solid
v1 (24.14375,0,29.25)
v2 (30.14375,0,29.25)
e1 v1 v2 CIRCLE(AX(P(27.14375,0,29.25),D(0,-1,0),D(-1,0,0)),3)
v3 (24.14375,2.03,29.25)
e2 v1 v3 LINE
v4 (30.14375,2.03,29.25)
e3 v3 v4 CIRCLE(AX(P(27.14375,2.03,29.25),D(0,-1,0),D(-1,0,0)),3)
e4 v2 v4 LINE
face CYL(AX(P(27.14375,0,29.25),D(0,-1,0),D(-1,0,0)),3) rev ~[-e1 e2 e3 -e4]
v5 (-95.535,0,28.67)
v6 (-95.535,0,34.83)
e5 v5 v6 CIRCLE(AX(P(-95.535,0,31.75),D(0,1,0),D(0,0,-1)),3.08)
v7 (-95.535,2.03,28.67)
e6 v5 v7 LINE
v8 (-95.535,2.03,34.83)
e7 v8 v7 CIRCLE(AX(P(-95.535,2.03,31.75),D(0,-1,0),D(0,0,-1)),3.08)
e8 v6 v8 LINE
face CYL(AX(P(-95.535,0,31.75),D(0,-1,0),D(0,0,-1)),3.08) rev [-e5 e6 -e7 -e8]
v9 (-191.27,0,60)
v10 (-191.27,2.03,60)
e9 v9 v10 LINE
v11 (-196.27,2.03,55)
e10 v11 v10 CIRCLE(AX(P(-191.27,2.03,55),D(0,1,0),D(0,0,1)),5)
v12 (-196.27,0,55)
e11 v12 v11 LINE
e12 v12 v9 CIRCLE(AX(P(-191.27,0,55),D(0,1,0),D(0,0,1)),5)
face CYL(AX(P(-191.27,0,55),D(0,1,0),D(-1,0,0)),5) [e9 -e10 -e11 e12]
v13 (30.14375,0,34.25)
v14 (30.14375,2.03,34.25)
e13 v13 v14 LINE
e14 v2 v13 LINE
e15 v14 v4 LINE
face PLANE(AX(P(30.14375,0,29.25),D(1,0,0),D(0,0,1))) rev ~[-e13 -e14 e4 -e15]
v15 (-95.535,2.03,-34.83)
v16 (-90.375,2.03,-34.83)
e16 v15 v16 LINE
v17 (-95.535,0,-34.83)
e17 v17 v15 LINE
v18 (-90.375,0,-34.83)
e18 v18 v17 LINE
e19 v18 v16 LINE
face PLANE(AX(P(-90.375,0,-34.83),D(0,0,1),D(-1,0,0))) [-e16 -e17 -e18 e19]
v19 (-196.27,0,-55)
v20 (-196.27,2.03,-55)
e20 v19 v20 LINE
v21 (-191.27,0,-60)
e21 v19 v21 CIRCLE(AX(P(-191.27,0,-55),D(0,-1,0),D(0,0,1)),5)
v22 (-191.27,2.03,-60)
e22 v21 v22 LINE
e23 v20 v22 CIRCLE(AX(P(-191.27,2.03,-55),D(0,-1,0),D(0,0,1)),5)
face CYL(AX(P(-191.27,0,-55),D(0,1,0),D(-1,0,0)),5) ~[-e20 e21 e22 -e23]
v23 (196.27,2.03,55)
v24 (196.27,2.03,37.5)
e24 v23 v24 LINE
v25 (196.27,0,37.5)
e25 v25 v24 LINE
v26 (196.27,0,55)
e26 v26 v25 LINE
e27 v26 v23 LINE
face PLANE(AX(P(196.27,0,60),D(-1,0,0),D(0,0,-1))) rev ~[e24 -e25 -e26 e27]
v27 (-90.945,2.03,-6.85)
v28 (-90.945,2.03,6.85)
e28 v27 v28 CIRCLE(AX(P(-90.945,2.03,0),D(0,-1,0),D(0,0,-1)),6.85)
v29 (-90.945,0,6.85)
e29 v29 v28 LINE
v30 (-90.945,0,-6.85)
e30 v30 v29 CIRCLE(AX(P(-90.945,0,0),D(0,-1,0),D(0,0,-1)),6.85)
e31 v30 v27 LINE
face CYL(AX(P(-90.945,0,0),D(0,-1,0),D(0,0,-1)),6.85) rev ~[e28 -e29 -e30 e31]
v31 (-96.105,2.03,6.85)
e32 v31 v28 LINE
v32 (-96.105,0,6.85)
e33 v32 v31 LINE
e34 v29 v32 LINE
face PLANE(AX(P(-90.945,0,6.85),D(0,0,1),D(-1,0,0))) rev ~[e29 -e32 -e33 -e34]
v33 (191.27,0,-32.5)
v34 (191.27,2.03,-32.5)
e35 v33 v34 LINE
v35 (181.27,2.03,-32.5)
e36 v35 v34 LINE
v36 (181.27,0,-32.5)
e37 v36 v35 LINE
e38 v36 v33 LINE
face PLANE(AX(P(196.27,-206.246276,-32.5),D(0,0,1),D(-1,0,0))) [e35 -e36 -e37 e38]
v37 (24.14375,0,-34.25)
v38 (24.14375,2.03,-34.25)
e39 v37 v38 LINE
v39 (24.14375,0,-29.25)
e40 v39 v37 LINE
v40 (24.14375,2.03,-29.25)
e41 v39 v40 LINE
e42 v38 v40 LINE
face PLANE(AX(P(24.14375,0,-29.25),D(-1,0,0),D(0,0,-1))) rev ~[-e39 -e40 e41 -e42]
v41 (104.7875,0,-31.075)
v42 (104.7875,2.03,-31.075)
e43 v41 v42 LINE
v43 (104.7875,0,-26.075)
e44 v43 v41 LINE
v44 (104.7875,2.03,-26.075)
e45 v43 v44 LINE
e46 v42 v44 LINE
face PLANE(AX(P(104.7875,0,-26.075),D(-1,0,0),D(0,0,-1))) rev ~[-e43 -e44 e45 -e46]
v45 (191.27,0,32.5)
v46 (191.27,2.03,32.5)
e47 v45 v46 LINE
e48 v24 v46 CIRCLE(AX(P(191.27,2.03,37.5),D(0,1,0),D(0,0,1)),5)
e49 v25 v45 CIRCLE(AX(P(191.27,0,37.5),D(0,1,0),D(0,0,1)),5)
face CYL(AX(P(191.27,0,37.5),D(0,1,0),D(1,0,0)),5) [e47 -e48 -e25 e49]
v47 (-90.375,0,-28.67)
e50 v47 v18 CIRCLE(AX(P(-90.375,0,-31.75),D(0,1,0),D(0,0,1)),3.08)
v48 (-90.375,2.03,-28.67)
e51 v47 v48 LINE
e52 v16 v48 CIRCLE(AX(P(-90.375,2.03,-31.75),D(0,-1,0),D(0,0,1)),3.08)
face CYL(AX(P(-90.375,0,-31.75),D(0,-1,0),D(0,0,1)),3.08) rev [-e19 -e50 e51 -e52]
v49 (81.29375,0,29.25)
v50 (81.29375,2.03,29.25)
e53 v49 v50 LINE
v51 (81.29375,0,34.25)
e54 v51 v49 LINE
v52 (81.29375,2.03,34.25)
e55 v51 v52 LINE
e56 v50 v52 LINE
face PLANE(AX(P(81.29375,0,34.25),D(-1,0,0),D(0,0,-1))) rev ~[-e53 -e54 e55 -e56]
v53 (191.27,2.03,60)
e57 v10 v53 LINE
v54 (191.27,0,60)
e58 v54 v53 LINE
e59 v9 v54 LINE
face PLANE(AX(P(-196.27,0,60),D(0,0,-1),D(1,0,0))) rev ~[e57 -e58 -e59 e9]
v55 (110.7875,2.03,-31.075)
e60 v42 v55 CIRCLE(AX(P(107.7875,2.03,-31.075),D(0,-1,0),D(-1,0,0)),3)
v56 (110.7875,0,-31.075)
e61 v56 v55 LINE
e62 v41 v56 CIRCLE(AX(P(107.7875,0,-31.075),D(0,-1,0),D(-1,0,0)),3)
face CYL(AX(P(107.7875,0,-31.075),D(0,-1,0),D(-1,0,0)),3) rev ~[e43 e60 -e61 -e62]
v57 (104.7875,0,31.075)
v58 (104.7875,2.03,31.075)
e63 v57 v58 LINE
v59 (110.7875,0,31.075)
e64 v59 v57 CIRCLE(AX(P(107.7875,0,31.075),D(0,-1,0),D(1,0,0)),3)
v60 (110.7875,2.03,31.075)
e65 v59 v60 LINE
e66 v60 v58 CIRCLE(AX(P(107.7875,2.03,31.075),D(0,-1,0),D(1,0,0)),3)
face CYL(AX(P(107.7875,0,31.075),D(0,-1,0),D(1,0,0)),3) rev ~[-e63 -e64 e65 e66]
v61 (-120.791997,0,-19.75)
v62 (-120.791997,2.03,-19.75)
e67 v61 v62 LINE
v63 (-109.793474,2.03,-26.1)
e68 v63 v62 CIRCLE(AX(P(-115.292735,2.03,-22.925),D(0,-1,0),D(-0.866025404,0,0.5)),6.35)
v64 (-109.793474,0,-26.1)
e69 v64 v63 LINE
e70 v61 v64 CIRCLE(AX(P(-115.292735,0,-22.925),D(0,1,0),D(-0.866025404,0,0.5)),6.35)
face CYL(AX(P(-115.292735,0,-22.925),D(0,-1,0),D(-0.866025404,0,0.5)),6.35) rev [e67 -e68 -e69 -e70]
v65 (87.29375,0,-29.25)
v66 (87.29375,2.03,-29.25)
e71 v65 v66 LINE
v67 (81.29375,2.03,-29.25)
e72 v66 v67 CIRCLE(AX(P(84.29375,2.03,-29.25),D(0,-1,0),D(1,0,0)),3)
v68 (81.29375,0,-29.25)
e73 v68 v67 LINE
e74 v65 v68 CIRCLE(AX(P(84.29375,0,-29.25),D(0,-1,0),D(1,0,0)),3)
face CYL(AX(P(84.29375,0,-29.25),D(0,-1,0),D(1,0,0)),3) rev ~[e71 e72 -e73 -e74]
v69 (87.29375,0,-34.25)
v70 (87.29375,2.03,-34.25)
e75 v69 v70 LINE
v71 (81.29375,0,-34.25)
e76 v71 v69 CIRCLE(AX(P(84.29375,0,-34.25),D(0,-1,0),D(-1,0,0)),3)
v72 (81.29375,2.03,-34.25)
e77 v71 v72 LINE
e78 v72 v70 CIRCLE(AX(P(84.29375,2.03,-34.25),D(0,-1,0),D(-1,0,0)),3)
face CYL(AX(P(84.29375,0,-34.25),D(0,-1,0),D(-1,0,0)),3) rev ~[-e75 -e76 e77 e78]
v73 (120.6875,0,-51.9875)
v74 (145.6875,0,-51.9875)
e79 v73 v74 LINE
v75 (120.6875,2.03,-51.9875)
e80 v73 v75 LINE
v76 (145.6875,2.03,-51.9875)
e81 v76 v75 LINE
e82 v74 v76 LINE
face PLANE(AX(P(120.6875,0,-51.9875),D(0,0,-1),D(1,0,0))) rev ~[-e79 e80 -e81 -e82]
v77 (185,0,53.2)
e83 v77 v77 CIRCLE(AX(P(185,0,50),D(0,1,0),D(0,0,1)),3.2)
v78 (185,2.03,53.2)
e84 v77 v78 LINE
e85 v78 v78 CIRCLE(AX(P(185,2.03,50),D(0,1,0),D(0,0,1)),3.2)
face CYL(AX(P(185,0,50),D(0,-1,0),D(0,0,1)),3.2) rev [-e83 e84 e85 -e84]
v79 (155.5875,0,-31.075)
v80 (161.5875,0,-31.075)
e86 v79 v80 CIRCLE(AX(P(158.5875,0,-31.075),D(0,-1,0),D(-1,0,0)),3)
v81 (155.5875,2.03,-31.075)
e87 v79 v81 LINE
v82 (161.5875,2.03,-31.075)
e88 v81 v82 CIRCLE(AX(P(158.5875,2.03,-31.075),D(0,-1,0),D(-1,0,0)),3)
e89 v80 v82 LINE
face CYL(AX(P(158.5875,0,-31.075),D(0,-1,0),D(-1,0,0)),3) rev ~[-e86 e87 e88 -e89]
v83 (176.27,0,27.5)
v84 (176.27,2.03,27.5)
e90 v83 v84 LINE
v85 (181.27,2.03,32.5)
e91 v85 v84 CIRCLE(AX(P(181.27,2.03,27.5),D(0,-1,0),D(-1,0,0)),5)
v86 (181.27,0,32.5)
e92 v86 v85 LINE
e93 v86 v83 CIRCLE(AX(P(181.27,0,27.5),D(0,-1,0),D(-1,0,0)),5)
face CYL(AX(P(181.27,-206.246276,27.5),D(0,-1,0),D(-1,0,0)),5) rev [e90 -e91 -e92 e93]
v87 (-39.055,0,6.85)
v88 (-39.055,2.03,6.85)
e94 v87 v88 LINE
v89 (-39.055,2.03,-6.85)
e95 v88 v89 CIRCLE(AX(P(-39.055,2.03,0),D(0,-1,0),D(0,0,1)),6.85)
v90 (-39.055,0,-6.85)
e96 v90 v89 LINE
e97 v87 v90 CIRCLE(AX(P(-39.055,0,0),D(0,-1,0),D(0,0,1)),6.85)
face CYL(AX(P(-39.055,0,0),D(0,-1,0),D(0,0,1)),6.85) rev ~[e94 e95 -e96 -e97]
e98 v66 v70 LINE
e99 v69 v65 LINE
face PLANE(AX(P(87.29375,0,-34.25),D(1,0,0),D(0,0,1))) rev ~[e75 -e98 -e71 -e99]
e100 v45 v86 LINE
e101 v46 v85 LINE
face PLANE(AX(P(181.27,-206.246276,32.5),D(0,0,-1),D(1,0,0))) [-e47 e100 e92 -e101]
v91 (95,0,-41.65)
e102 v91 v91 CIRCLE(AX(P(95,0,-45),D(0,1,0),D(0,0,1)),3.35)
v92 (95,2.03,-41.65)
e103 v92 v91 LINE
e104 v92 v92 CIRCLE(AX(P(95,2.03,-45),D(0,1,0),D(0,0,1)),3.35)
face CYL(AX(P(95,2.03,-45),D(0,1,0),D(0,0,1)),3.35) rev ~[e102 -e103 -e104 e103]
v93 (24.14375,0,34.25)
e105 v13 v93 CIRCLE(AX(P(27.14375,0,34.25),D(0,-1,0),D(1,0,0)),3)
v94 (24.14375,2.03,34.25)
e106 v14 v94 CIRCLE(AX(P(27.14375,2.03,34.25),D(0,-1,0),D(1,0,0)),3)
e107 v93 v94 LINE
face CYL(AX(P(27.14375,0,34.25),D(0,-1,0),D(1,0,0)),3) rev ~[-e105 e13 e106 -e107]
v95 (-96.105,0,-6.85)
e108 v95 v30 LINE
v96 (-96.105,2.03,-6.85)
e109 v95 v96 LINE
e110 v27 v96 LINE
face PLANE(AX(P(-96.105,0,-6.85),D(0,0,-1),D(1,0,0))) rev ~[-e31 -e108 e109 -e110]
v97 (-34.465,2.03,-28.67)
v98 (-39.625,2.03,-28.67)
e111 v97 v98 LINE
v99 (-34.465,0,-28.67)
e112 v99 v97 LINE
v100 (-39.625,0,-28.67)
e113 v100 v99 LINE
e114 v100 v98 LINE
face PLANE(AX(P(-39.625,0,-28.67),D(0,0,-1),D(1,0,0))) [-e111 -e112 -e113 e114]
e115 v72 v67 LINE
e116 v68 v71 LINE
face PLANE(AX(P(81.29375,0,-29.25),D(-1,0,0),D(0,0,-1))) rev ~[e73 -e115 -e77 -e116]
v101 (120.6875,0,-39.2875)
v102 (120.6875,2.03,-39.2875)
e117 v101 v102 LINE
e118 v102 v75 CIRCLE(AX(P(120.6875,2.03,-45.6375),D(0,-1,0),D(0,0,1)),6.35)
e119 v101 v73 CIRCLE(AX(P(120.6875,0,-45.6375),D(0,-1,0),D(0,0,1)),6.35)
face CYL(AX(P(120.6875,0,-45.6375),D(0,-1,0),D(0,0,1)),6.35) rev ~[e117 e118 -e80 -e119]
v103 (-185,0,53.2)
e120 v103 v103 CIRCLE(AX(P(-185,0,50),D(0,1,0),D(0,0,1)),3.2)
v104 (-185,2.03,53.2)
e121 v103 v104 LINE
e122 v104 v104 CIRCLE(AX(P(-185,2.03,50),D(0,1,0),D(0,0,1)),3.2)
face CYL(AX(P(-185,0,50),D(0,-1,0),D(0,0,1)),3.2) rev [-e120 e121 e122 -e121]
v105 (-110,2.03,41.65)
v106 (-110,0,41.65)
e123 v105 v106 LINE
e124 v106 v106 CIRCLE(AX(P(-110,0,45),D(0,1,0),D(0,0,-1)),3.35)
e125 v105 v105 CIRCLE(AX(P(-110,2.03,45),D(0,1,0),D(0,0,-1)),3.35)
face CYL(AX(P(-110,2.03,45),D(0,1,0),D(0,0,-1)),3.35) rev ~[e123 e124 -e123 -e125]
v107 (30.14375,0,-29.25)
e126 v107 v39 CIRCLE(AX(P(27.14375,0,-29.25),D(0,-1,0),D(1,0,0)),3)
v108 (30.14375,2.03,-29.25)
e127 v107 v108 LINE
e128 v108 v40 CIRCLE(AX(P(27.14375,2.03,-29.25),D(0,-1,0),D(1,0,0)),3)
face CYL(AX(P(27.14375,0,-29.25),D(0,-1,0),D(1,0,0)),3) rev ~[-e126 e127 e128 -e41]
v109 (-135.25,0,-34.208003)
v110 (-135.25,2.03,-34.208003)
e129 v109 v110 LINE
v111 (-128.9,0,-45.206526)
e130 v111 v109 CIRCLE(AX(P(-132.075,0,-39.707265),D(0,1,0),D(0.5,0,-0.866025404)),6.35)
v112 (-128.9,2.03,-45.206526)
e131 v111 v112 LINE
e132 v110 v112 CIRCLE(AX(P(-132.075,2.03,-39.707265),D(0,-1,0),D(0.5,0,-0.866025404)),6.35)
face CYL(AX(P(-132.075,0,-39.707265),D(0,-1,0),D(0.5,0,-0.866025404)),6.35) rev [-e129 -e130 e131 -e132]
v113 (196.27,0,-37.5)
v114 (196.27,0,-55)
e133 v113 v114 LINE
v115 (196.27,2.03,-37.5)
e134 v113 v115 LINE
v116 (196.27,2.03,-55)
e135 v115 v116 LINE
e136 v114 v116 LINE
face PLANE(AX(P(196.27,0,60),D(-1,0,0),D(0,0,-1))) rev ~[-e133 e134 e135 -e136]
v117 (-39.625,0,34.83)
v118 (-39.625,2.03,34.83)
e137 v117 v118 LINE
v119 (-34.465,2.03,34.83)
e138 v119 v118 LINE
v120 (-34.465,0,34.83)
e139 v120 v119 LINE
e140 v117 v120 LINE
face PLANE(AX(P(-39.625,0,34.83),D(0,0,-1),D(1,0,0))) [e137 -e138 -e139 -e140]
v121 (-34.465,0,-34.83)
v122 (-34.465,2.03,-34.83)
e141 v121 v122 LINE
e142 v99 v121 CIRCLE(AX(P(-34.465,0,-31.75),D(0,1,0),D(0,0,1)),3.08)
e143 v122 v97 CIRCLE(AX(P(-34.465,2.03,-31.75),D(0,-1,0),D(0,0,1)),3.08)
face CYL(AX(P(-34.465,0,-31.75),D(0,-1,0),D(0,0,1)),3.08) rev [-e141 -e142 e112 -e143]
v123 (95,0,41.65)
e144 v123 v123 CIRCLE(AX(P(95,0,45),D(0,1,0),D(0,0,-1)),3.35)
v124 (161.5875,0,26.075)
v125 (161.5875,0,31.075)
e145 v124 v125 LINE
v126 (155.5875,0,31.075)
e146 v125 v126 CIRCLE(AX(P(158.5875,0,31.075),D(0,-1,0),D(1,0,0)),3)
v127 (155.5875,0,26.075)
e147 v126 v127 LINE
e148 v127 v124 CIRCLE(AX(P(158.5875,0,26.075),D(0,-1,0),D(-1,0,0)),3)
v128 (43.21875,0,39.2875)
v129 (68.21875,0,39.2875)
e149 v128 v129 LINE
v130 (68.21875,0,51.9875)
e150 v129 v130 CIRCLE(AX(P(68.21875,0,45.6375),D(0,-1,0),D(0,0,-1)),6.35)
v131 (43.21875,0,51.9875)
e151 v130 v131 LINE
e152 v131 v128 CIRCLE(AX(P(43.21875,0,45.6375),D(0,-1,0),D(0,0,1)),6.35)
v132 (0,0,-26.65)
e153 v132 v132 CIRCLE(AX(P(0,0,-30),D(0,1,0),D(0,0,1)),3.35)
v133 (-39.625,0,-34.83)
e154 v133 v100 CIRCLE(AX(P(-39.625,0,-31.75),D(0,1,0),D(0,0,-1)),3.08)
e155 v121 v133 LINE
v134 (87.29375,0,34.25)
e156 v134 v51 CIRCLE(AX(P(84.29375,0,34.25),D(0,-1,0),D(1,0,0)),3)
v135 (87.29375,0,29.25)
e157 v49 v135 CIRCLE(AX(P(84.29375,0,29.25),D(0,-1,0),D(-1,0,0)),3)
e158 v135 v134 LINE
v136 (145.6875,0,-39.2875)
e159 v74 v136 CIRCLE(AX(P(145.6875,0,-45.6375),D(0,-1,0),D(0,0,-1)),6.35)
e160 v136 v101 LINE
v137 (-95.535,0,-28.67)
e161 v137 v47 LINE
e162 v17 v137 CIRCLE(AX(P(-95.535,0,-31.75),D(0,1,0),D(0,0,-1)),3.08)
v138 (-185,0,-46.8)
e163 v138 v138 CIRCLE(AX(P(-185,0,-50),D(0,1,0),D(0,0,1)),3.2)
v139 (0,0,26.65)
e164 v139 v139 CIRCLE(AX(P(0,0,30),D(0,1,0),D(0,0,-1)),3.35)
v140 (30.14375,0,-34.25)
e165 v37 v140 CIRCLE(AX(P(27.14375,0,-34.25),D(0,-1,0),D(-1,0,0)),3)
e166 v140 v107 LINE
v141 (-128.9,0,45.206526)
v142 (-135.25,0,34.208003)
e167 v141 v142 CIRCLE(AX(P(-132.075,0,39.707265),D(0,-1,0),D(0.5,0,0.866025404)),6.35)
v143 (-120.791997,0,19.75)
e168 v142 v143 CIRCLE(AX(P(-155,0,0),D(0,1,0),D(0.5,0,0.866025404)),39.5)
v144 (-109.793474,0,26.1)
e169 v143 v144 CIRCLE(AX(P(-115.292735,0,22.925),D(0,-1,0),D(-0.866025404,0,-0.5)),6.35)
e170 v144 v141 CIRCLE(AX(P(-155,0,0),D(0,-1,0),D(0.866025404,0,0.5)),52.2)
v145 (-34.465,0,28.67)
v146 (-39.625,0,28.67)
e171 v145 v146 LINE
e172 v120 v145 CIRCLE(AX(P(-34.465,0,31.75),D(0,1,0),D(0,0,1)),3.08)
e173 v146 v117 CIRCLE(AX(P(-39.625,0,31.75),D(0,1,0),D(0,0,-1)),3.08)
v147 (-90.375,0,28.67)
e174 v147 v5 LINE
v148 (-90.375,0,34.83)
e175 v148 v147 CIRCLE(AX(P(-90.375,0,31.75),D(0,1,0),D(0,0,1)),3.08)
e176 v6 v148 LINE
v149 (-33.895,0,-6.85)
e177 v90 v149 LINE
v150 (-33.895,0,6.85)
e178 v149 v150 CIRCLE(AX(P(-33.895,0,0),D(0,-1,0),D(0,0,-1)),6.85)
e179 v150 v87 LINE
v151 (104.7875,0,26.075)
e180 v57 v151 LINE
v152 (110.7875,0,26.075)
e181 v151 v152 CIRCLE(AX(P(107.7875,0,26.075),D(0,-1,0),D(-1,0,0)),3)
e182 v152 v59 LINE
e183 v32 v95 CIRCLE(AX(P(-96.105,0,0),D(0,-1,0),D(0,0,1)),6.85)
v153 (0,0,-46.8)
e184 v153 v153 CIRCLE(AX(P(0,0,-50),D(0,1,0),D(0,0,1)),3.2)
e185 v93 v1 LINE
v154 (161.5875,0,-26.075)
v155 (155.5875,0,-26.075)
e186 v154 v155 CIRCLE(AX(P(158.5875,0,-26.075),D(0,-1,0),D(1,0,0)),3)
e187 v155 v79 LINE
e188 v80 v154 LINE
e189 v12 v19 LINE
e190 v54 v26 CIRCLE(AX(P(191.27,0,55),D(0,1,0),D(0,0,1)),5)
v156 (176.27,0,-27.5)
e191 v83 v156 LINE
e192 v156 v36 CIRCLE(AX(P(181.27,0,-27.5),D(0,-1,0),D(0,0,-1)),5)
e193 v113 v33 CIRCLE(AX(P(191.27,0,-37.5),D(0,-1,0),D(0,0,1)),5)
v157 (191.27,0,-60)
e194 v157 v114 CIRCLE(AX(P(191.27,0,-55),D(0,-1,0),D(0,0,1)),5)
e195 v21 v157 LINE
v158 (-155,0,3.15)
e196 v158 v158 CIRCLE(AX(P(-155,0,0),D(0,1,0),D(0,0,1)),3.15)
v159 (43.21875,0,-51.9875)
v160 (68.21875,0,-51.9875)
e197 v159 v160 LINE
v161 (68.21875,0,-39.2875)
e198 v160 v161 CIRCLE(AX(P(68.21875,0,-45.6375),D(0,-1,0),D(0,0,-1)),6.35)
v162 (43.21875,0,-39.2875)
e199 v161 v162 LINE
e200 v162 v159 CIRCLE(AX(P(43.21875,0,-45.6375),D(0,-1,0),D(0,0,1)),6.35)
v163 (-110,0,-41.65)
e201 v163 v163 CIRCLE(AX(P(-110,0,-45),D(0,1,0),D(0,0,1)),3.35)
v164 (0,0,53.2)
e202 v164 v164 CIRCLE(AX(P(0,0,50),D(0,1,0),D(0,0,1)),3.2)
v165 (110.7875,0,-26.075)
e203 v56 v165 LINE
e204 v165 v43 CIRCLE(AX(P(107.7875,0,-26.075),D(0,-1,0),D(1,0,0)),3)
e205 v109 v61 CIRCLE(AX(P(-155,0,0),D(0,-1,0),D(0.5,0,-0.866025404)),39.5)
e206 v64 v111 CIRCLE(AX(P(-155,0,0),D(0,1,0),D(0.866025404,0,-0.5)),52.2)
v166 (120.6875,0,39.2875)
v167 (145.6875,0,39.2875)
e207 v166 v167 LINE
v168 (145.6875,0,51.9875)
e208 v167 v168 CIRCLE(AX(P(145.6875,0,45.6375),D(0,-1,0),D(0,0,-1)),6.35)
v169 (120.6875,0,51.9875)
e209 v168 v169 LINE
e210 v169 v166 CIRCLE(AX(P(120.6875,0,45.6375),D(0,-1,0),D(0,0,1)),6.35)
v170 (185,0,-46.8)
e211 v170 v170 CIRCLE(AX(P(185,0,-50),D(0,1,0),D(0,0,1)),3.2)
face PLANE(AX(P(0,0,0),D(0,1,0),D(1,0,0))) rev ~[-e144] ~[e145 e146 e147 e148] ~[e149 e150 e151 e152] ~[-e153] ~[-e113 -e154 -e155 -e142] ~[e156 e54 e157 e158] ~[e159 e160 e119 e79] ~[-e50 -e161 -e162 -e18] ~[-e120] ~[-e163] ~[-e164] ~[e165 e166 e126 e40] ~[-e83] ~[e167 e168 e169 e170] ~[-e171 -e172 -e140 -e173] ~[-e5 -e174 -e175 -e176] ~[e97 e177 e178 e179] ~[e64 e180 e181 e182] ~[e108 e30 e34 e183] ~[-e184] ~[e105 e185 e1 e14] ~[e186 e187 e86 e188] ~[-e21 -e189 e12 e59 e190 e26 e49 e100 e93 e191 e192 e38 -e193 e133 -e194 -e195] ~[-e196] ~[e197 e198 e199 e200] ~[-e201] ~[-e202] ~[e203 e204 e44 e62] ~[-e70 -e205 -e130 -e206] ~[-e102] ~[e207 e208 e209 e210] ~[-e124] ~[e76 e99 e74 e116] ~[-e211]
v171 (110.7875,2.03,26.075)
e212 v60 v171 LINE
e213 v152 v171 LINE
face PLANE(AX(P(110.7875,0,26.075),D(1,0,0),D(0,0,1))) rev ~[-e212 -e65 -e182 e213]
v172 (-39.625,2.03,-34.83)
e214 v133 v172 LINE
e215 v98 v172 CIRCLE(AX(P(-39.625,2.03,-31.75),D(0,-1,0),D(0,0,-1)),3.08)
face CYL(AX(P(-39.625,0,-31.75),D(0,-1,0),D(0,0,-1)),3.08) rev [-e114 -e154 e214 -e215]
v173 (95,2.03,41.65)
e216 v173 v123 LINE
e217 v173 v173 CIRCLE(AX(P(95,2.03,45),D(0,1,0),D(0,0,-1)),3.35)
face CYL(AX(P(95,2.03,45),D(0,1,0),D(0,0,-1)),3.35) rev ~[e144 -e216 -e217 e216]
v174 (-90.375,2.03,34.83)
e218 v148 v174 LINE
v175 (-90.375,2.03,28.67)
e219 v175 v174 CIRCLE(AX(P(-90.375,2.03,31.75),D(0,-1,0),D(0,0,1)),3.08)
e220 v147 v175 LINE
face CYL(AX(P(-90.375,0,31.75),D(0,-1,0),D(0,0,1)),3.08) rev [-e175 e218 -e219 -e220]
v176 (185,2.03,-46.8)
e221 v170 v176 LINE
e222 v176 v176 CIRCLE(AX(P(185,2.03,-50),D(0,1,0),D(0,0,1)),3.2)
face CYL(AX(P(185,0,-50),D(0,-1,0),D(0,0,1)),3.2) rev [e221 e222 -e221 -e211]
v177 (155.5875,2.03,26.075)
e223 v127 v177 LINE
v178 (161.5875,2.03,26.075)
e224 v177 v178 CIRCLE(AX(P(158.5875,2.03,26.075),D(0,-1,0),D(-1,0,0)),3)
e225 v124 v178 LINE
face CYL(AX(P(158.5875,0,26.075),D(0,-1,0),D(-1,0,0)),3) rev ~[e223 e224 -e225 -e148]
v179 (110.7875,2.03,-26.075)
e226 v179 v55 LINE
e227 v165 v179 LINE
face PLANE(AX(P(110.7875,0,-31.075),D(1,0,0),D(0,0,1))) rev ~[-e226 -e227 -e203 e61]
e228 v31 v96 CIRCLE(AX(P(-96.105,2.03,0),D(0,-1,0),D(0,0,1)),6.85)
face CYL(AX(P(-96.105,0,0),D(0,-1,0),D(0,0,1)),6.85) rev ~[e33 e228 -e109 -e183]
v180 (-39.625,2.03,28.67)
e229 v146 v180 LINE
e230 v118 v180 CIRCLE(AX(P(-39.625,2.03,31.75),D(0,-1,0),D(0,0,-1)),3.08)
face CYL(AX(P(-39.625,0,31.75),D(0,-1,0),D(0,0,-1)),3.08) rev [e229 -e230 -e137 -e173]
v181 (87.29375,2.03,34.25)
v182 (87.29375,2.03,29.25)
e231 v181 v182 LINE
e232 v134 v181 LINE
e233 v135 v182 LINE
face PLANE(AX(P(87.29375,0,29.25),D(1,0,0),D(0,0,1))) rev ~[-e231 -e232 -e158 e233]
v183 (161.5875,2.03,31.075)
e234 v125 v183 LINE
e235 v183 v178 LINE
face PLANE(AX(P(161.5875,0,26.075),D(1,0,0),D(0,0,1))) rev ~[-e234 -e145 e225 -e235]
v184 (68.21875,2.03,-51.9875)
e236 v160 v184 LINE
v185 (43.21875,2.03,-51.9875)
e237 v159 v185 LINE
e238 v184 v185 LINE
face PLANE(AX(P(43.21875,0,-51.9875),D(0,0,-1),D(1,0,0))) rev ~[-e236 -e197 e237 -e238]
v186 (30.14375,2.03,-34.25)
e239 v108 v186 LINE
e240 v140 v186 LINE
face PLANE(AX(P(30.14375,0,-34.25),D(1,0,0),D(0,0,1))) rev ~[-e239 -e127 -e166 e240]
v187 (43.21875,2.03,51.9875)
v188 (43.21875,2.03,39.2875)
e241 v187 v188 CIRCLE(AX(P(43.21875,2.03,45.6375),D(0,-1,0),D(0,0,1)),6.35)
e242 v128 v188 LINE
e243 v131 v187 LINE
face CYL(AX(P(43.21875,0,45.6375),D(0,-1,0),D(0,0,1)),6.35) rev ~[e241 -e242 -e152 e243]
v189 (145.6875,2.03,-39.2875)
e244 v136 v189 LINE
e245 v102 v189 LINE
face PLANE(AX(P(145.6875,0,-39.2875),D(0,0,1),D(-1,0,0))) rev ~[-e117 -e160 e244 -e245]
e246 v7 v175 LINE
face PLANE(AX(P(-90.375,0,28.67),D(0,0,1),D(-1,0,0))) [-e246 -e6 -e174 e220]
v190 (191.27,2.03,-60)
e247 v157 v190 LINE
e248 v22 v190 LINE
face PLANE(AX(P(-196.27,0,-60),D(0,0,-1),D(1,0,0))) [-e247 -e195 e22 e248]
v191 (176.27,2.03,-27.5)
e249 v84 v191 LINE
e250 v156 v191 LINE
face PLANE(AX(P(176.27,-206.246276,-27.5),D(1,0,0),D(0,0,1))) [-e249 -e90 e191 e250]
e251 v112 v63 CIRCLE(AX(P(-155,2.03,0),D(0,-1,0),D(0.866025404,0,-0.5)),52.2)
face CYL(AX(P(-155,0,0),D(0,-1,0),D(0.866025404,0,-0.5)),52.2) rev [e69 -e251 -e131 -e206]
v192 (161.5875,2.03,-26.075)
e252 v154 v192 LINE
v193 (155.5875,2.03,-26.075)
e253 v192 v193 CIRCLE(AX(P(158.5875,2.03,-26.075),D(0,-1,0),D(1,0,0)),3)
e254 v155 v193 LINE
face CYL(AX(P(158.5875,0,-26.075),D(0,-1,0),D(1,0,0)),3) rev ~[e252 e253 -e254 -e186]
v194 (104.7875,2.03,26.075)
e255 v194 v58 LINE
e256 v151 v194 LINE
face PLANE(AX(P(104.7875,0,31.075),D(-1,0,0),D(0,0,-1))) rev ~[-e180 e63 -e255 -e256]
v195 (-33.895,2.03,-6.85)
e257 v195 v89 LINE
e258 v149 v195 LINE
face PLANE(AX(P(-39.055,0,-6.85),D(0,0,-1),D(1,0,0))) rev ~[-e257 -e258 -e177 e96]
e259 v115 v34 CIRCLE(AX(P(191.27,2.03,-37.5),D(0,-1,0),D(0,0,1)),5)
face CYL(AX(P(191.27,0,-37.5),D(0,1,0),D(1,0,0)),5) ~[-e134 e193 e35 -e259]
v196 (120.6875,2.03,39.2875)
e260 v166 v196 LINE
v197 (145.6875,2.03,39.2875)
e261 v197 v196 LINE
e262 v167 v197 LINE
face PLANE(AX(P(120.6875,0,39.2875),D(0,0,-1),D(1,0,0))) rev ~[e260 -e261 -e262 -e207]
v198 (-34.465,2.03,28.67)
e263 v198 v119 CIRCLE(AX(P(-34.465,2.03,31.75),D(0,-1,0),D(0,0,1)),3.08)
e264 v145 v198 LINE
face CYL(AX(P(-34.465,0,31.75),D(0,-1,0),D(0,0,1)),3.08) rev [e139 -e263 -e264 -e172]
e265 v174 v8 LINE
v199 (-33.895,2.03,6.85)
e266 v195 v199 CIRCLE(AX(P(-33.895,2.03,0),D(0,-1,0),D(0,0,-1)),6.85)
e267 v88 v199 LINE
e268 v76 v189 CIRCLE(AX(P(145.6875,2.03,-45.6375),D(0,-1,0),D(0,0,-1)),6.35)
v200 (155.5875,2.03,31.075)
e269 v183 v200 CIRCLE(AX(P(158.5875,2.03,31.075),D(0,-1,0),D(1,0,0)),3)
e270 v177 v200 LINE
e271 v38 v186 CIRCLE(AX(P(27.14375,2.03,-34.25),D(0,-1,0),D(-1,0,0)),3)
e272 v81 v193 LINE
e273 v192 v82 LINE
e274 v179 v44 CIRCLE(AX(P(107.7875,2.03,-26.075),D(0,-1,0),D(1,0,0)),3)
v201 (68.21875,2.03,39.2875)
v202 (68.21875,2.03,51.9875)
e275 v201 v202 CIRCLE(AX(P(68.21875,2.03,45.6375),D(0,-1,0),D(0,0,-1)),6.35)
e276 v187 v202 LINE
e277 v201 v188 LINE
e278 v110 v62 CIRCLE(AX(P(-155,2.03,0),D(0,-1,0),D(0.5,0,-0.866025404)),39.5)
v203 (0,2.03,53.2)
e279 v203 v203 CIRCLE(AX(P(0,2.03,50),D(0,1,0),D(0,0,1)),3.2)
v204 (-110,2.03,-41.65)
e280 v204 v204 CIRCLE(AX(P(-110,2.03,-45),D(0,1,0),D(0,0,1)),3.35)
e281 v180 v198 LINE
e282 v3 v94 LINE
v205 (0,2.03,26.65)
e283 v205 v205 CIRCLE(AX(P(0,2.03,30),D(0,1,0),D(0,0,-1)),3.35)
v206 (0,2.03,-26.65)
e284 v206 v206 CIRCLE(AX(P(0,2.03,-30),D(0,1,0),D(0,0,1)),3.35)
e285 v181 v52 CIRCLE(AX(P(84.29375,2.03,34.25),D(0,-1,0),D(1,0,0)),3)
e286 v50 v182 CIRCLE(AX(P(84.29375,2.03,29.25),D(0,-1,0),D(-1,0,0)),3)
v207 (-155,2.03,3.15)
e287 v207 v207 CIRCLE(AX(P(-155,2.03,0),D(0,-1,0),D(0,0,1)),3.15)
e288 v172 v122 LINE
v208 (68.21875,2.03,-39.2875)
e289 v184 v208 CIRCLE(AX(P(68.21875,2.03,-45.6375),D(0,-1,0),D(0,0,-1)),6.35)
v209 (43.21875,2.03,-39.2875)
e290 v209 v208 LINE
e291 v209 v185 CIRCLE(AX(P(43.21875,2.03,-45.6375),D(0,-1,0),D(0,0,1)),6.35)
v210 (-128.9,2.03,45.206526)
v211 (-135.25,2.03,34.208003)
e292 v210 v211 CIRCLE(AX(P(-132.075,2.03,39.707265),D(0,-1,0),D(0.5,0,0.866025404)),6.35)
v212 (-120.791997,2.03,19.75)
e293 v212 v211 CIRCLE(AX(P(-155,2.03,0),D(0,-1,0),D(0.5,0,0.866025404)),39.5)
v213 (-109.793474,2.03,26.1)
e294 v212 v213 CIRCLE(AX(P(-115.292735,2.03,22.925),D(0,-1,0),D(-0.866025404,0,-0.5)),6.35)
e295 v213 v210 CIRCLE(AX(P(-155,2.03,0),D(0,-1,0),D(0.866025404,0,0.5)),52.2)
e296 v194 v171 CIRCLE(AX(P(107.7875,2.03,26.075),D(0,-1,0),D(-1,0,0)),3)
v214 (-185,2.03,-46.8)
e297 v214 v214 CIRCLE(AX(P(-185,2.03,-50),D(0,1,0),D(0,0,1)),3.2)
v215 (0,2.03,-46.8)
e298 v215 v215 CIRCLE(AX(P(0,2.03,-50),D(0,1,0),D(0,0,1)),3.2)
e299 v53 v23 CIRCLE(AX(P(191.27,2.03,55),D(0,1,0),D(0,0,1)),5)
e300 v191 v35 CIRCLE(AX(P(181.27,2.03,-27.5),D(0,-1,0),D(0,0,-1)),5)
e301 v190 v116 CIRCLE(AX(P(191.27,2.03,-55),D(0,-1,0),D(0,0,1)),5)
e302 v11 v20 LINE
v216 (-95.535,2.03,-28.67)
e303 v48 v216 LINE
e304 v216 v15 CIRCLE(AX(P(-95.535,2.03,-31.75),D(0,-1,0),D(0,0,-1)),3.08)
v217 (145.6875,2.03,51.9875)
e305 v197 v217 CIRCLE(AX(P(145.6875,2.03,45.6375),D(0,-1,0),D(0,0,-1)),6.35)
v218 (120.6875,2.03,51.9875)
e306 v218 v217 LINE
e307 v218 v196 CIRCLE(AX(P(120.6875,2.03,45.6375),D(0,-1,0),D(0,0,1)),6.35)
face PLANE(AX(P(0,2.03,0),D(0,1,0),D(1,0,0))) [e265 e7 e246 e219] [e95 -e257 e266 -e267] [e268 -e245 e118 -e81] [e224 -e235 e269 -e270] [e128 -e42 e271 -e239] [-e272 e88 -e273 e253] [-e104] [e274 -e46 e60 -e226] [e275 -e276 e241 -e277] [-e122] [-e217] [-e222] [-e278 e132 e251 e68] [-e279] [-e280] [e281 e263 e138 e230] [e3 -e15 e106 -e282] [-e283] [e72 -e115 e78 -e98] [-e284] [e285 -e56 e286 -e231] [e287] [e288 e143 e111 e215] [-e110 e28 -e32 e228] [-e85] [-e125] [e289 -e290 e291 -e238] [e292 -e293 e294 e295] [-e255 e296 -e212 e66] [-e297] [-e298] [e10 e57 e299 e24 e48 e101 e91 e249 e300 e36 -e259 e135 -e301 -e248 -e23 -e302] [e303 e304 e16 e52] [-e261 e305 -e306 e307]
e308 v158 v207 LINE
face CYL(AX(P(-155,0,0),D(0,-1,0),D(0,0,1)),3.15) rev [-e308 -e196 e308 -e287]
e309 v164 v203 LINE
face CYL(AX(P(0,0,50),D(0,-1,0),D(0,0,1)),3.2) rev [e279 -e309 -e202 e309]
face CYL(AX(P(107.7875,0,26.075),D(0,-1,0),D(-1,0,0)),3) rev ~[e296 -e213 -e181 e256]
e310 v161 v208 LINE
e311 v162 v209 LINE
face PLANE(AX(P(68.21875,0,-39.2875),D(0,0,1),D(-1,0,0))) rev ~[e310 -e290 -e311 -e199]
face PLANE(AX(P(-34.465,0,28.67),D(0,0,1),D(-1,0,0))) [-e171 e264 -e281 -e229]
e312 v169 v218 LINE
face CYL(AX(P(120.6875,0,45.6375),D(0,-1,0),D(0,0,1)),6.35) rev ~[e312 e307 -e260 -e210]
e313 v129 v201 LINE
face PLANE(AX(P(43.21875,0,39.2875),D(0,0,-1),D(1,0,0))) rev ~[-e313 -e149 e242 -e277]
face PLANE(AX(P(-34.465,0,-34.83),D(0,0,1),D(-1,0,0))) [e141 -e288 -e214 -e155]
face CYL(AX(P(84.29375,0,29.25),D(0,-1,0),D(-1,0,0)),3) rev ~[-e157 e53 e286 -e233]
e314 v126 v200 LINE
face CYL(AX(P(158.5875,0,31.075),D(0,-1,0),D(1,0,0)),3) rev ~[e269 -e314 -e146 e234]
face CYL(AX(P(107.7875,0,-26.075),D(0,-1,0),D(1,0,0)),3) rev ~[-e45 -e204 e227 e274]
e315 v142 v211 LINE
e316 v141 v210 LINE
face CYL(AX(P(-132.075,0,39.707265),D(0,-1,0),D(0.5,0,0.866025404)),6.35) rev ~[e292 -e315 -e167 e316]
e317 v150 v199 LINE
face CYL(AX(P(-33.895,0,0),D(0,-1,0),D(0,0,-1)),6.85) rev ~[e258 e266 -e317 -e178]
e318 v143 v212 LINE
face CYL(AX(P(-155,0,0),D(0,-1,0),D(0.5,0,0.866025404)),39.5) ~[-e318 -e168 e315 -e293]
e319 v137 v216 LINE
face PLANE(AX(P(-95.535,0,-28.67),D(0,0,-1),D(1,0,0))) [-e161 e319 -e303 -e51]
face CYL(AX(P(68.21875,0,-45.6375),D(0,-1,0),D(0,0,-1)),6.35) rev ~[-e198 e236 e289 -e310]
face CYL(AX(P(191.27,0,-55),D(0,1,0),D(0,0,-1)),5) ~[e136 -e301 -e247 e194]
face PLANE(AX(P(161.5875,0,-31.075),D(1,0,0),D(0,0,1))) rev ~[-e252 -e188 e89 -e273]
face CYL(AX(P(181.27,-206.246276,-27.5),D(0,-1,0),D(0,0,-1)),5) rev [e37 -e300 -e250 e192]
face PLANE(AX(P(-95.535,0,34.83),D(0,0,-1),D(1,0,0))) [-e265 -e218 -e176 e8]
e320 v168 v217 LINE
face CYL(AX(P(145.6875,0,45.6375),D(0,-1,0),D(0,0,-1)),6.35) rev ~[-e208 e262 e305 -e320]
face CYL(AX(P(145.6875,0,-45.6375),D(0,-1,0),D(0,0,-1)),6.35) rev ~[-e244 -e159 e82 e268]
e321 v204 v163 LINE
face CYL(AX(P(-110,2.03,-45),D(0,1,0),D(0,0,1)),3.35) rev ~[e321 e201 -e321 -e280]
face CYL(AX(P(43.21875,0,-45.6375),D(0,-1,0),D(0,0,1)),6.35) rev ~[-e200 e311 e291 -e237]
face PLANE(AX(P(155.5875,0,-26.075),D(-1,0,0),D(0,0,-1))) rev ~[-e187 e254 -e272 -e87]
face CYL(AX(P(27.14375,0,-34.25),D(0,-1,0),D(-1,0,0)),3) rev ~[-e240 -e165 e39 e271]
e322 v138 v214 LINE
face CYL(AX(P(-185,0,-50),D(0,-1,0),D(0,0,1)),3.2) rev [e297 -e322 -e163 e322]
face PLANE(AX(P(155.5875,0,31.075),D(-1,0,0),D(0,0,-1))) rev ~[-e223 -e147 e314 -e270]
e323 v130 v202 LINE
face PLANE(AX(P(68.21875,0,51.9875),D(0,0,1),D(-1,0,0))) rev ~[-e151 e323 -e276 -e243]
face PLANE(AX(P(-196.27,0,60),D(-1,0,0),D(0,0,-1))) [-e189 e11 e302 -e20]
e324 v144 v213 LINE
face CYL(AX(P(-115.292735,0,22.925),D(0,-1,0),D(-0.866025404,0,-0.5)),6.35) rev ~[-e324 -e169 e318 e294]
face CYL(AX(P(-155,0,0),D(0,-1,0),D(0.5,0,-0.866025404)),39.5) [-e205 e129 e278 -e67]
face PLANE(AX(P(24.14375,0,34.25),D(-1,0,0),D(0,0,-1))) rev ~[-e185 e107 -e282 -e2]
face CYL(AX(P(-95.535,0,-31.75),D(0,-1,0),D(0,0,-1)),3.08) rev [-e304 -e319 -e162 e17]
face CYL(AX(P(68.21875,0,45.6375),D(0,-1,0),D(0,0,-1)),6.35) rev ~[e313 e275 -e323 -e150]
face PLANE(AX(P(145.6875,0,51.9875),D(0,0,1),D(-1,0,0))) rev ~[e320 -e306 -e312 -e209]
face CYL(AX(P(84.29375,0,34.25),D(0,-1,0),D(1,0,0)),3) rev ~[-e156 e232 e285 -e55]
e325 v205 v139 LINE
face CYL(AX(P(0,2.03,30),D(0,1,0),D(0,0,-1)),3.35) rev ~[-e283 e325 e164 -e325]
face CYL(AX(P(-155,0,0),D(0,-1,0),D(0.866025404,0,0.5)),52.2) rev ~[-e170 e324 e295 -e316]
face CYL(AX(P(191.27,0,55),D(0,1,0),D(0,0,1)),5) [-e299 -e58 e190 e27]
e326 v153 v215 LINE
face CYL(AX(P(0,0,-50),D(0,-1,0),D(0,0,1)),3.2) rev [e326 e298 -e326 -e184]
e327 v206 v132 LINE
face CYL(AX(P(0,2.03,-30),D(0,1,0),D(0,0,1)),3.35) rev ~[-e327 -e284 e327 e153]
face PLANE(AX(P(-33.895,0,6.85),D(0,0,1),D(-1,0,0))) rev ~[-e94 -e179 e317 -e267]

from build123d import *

# Parameters (mm, degrees)
SKETCH1_W               = 392.54
SKETCH1_H               = 120
SKETCH1_R               = 3.2
BOSS_EXTRUDE1_DEPTH     = 2.03
CUT_EXTRUDE3_DEPTH      = 206.246275971
CUT_EXTRUDE3_DEPTH_BACK = 206.246275971
SKETCH3_R               = 3.15
CUT_EXTRUDE4_DEPTH      = 206.246275971
FILLET1_R               = 5
SKETCH4_R               = 3.35
CUT_EXTRUDE5_DEPTH      = 206.246275971


with BuildPart() as part:
    # Sketch1 → Boss-Extrude1 (new body)
    with BuildSketch(Plane(origin=(0, 0, 0), x_dir=(1, 0, 0), z_dir=(0, 1, 0))):
        Rectangle(SKETCH1_W, SKETCH1_H)
        with Locations(Location((0, -50, 0), (0, 0, 270))):
            Circle(SKETCH1_R, mode=Mode.SUBTRACT)
        with Locations(Location((185, -50, 0), (0, 0, 270))):
            Circle(SKETCH1_R, mode=Mode.SUBTRACT)
        with Locations(Location((185, 50, 0), (0, 0, 270))):
            Circle(SKETCH1_R, mode=Mode.SUBTRACT)
        with Locations(Location((0, 50, 0), (0, 0, 270))):
            Circle(SKETCH1_R, mode=Mode.SUBTRACT)
        with Locations(Location((-185, 50, 0), (0, 0, 270))):
            Circle(SKETCH1_R, mode=Mode.SUBTRACT)
        with Locations(Location((-185, -50, 0), (0, 0, 270))):
            Circle(SKETCH1_R, mode=Mode.SUBTRACT)
    extrude(amount=BOSS_EXTRUDE1_DEPTH)

    # Sketch2 → Cut-Extrude3 (cut, two sides: drawn at the far end of the back side and taken through both)
    with BuildSketch(Plane(origin=(0, 0, 0), x_dir=(1, 0, 0), z_dir=(0, 1, 0)).offset(-CUT_EXTRUDE3_DEPTH_BACK)):
        with BuildLine():
            Line((181.27, -32.5), (196.27, -32.5))
            Line((196.27, -32.5), (196.27, 32.5))
            Line((196.27, 32.5), (181.27, 32.5))
            ThreePointArc((181.27, 32.5), (177.734466094, 31.035533906), (176.27, 27.5))
            Line((176.27, 27.5), (176.27, -27.5))
            ThreePointArc((176.27, -27.5), (177.734466094, -31.035533906), (181.27, -32.5))
        make_face()
    extrude(amount=CUT_EXTRUDE3_DEPTH + CUT_EXTRUDE3_DEPTH_BACK, mode=Mode.SUBTRACT)

    # Sketch3 → Cut-Extrude4 (cut, through all)
    with BuildSketch(Plane(origin=(0, 0, 0), x_dir=(1, 0, 0), z_dir=(0, 1, 0))):
        with Locations(Location((-155, 0, 0), (0, 0, 270))):
            Circle(SKETCH3_R)
        with BuildLine():
            Line((-90.375, 34.83), (-95.535, 34.83))
            ThreePointArc((-95.535, 34.83), (-98.615, 31.75), (-95.535, 28.67))
            Line((-95.535, 28.67), (-90.375, 28.67))
            ThreePointArc((-90.375, 28.67), (-87.295, 31.75), (-90.375, 34.83))
        make_face()
        with BuildLine():
            Line((-39.625, 28.67), (-34.465, 28.67))
            ThreePointArc((-34.465, 28.67), (-31.385, 31.75), (-34.465, 34.83))
            Line((-34.465, 34.83), (-39.625, 34.83))
            ThreePointArc((-39.625, 34.83), (-42.705, 31.75), (-39.625, 28.67))
        make_face()
        with BuildLine():
            Line((-95.535, -34.83), (-90.375, -34.83))
            ThreePointArc((-90.375, -34.83), (-87.295, -31.75), (-90.375, -28.67))
            Line((-90.375, -28.67), (-95.535, -28.67))
            ThreePointArc((-95.535, -28.67), (-98.615, -31.75), (-95.535, -34.83))
        make_face()
        with BuildLine():
            Line((-39.625, -34.83), (-34.465, -34.83))
            ThreePointArc((-34.465, -34.83), (-31.385, -31.75), (-34.465, -28.67))
            Line((-34.465, -28.67), (-39.625, -28.67))
            ThreePointArc((-39.625, -28.67), (-42.705, -31.75), (-39.625, -34.83))
        make_face()
        with BuildLine():
            Line((24.14375, 29.25), (24.14375, 34.25))
            ThreePointArc((24.14375, 34.25), (27.14375, 37.25), (30.14375, 34.25))
            Line((30.14375, 34.25), (30.14375, 29.25))
            ThreePointArc((30.14375, 29.25), (27.14375, 26.25), (24.14375, 29.25))
        make_face()
        with BuildLine():
            Line((81.29375, 29.25), (81.29375, 34.25))
            ThreePointArc((81.29375, 34.25), (84.29375, 37.25), (87.29375, 34.25))
            Line((87.29375, 34.25), (87.29375, 29.25))
            ThreePointArc((87.29375, 29.25), (84.29375, 26.25), (81.29375, 29.25))
        make_face()
        with BuildLine():
            Line((24.14375, -34.25), (24.14375, -29.25))
            ThreePointArc((24.14375, -29.25), (27.14375, -26.25), (30.14375, -29.25))
            Line((30.14375, -29.25), (30.14375, -34.25))
            ThreePointArc((30.14375, -34.25), (27.14375, -37.25), (24.14375, -34.25))
        make_face()
        with BuildLine():
            Line((81.29375, -34.25), (81.29375, -29.25))
            ThreePointArc((81.29375, -29.25), (84.29375, -26.25), (87.29375, -29.25))
            Line((87.29375, -29.25), (87.29375, -34.25))
            ThreePointArc((87.29375, -34.25), (84.29375, -37.25), (81.29375, -34.25))
        make_face()
        with BuildLine():
            Line((104.7875, 26.075), (104.7875, 31.075))
            ThreePointArc((104.7875, 31.075), (107.7875, 34.075), (110.7875, 31.075))
            Line((110.7875, 31.075), (110.7875, 26.075))
            ThreePointArc((110.7875, 26.075), (107.7875, 23.075), (104.7875, 26.075))
        make_face()
        with BuildLine():
            Line((155.5875, 26.075), (155.5875, 31.075))
            ThreePointArc((155.5875, 31.075), (158.5875, 34.075), (161.5875, 31.075))
            Line((161.5875, 31.075), (161.5875, 26.075))
            ThreePointArc((161.5875, 26.075), (158.5875, 23.075), (155.5875, 26.075))
        make_face()
        with BuildLine():
            Line((104.7875, -31.075), (104.7875, -26.075))
            ThreePointArc((104.7875, -26.075), (107.7875, -23.075), (110.7875, -26.075))
            Line((110.7875, -26.075), (110.7875, -31.075))
            ThreePointArc((110.7875, -31.075), (107.7875, -34.075), (104.7875, -31.075))
        make_face()
        with BuildLine():
            Line((155.5875, -31.075), (155.5875, -26.075))
            ThreePointArc((155.5875, -26.075), (158.5875, -23.075), (161.5875, -26.075))
            Line((161.5875, -26.075), (161.5875, -31.075))
            ThreePointArc((161.5875, -31.075), (158.5875, -34.075), (155.5875, -31.075))
        make_face()
        with BuildLine():
            Line((120.6875, 51.9875), (145.6875, 51.9875))
            ThreePointArc((145.6875, 51.9875), (152.0375, 45.6375), (145.6875, 39.2875))
            Line((145.6875, 39.2875), (120.6875, 39.2875))
            ThreePointArc((120.6875, 39.2875), (114.3375, 45.6375), (120.6875, 51.9875))
        make_face()
        with BuildLine():
            Line((120.6875, -39.2875), (145.6875, -39.2875))
            ThreePointArc((145.6875, -39.2875), (152.0375, -45.6375), (145.6875, -51.9875))
            Line((145.6875, -51.9875), (120.6875, -51.9875))
            ThreePointArc((120.6875, -51.9875), (114.3375, -45.6375), (120.6875, -39.2875))
        make_face()
        with BuildLine():
            Line((43.21875, -39.2875), (68.21875, -39.2875))
            ThreePointArc((68.21875, -39.2875), (74.56875, -45.6375), (68.21875, -51.9875))
            Line((68.21875, -51.9875), (43.21875, -51.9875))
            ThreePointArc((43.21875, -51.9875), (36.86875, -45.6375), (43.21875, -39.2875))
        make_face()
        with BuildLine():
            Line((43.21875, 51.9875), (68.21875, 51.9875))
            ThreePointArc((68.21875, 51.9875), (74.56875, 45.6375), (68.21875, 39.2875))
            Line((68.21875, 39.2875), (43.21875, 39.2875))
            ThreePointArc((43.21875, 39.2875), (36.86875, 45.6375), (43.21875, 51.9875))
        make_face()
        with BuildLine():
            Line((-96.105, 6.85), (-90.945, 6.85))
            ThreePointArc((-90.945, 6.85), (-84.095, 0), (-90.945, -6.85))
            Line((-90.945, -6.85), (-96.105, -6.85))
            ThreePointArc((-96.105, -6.85), (-102.955, 0), (-96.105, 6.85))
        make_face()
        with BuildLine():
            Line((-33.895, -6.85), (-39.055, -6.85))
            ThreePointArc((-39.055, -6.85), (-45.905, 0), (-39.055, 6.85))
            Line((-39.055, 6.85), (-33.895, 6.85))
            ThreePointArc((-33.895, 6.85), (-27.045, 0), (-33.895, -6.85))
        make_face()
        with BuildLine():
            ThreePointArc((-135.25, -34.208003449), (-127.069282143, -27.930717857), (-120.791996551, -19.75))
            ThreePointArc((-120.791996551, -19.75), (-112.117735236, -17.425738686), (-109.793473922, -26.1))
            ThreePointArc((-109.793473922, -26.1), (-118.089026022, -36.910973978), (-128.9, -45.206526078))
            ThreePointArc((-128.9, -45.206526078), (-137.574261314, -42.882264764), (-135.25, -34.208003449))
        make_face()
        with BuildLine():
            ThreePointArc((-128.9, 45.206526078), (-137.574261314, 42.882264764), (-135.25, 34.208003449))
            ThreePointArc((-135.25, 34.208003449), (-127.069282143, 27.930717857), (-120.791996551, 19.75))
            ThreePointArc((-120.791996551, 19.75), (-112.117735236, 17.425738686), (-109.793473922, 26.1))
            ThreePointArc((-109.793473922, 26.1), (-118.089026022, 36.910973978), (-128.9, 45.206526078))
        make_face()
    extrude(amount=CUT_EXTRUDE4_DEPTH, mode=Mode.SUBTRACT)

    # Fillet1
    fillet1_edges = [part.edges().sort_by_distance(p)[0] for p in [
        (196.27, 1.015, -32.5),
        (196.27, 1.015, 32.5),
        (196.27, 1.015, 60),
        (-196.27, 1.015, 60),
        (-196.27, 1.015, -60),
        (196.27, 1.015, -60),
    ]]
    fillet(fillet1_edges, radius=FILLET1_R)

    # Sketch4 → Cut-Extrude5 (cut, through all)
    with BuildSketch(Plane(origin=(0, 2.03, 0), x_dir=(1, 0, 0), z_dir=(0, 1, 0))):
        with Locations(Location((-110, 45, 0), (0, 0, 270))):
            Circle(SKETCH4_R)
        with Locations(Location((0, 30, 0), (0, 0, 270))):
            Circle(SKETCH4_R)
        with Locations(Location((95, 45, 0), (0, 0, 270))):
            Circle(SKETCH4_R)
        with Locations(Location((95, -45, 0), (0, 0, 90))):
            Circle(SKETCH4_R)
        with Locations(Location((0, -30, 0), (0, 0, 90))):
            Circle(SKETCH4_R)
        with Locations(Location((-110, -45, 0), (0, 0, 90))):
            Circle(SKETCH4_R)
    extrude(amount=-CUT_EXTRUDE5_DEPTH, mode=Mode.SUBTRACT)


solid = part.part
